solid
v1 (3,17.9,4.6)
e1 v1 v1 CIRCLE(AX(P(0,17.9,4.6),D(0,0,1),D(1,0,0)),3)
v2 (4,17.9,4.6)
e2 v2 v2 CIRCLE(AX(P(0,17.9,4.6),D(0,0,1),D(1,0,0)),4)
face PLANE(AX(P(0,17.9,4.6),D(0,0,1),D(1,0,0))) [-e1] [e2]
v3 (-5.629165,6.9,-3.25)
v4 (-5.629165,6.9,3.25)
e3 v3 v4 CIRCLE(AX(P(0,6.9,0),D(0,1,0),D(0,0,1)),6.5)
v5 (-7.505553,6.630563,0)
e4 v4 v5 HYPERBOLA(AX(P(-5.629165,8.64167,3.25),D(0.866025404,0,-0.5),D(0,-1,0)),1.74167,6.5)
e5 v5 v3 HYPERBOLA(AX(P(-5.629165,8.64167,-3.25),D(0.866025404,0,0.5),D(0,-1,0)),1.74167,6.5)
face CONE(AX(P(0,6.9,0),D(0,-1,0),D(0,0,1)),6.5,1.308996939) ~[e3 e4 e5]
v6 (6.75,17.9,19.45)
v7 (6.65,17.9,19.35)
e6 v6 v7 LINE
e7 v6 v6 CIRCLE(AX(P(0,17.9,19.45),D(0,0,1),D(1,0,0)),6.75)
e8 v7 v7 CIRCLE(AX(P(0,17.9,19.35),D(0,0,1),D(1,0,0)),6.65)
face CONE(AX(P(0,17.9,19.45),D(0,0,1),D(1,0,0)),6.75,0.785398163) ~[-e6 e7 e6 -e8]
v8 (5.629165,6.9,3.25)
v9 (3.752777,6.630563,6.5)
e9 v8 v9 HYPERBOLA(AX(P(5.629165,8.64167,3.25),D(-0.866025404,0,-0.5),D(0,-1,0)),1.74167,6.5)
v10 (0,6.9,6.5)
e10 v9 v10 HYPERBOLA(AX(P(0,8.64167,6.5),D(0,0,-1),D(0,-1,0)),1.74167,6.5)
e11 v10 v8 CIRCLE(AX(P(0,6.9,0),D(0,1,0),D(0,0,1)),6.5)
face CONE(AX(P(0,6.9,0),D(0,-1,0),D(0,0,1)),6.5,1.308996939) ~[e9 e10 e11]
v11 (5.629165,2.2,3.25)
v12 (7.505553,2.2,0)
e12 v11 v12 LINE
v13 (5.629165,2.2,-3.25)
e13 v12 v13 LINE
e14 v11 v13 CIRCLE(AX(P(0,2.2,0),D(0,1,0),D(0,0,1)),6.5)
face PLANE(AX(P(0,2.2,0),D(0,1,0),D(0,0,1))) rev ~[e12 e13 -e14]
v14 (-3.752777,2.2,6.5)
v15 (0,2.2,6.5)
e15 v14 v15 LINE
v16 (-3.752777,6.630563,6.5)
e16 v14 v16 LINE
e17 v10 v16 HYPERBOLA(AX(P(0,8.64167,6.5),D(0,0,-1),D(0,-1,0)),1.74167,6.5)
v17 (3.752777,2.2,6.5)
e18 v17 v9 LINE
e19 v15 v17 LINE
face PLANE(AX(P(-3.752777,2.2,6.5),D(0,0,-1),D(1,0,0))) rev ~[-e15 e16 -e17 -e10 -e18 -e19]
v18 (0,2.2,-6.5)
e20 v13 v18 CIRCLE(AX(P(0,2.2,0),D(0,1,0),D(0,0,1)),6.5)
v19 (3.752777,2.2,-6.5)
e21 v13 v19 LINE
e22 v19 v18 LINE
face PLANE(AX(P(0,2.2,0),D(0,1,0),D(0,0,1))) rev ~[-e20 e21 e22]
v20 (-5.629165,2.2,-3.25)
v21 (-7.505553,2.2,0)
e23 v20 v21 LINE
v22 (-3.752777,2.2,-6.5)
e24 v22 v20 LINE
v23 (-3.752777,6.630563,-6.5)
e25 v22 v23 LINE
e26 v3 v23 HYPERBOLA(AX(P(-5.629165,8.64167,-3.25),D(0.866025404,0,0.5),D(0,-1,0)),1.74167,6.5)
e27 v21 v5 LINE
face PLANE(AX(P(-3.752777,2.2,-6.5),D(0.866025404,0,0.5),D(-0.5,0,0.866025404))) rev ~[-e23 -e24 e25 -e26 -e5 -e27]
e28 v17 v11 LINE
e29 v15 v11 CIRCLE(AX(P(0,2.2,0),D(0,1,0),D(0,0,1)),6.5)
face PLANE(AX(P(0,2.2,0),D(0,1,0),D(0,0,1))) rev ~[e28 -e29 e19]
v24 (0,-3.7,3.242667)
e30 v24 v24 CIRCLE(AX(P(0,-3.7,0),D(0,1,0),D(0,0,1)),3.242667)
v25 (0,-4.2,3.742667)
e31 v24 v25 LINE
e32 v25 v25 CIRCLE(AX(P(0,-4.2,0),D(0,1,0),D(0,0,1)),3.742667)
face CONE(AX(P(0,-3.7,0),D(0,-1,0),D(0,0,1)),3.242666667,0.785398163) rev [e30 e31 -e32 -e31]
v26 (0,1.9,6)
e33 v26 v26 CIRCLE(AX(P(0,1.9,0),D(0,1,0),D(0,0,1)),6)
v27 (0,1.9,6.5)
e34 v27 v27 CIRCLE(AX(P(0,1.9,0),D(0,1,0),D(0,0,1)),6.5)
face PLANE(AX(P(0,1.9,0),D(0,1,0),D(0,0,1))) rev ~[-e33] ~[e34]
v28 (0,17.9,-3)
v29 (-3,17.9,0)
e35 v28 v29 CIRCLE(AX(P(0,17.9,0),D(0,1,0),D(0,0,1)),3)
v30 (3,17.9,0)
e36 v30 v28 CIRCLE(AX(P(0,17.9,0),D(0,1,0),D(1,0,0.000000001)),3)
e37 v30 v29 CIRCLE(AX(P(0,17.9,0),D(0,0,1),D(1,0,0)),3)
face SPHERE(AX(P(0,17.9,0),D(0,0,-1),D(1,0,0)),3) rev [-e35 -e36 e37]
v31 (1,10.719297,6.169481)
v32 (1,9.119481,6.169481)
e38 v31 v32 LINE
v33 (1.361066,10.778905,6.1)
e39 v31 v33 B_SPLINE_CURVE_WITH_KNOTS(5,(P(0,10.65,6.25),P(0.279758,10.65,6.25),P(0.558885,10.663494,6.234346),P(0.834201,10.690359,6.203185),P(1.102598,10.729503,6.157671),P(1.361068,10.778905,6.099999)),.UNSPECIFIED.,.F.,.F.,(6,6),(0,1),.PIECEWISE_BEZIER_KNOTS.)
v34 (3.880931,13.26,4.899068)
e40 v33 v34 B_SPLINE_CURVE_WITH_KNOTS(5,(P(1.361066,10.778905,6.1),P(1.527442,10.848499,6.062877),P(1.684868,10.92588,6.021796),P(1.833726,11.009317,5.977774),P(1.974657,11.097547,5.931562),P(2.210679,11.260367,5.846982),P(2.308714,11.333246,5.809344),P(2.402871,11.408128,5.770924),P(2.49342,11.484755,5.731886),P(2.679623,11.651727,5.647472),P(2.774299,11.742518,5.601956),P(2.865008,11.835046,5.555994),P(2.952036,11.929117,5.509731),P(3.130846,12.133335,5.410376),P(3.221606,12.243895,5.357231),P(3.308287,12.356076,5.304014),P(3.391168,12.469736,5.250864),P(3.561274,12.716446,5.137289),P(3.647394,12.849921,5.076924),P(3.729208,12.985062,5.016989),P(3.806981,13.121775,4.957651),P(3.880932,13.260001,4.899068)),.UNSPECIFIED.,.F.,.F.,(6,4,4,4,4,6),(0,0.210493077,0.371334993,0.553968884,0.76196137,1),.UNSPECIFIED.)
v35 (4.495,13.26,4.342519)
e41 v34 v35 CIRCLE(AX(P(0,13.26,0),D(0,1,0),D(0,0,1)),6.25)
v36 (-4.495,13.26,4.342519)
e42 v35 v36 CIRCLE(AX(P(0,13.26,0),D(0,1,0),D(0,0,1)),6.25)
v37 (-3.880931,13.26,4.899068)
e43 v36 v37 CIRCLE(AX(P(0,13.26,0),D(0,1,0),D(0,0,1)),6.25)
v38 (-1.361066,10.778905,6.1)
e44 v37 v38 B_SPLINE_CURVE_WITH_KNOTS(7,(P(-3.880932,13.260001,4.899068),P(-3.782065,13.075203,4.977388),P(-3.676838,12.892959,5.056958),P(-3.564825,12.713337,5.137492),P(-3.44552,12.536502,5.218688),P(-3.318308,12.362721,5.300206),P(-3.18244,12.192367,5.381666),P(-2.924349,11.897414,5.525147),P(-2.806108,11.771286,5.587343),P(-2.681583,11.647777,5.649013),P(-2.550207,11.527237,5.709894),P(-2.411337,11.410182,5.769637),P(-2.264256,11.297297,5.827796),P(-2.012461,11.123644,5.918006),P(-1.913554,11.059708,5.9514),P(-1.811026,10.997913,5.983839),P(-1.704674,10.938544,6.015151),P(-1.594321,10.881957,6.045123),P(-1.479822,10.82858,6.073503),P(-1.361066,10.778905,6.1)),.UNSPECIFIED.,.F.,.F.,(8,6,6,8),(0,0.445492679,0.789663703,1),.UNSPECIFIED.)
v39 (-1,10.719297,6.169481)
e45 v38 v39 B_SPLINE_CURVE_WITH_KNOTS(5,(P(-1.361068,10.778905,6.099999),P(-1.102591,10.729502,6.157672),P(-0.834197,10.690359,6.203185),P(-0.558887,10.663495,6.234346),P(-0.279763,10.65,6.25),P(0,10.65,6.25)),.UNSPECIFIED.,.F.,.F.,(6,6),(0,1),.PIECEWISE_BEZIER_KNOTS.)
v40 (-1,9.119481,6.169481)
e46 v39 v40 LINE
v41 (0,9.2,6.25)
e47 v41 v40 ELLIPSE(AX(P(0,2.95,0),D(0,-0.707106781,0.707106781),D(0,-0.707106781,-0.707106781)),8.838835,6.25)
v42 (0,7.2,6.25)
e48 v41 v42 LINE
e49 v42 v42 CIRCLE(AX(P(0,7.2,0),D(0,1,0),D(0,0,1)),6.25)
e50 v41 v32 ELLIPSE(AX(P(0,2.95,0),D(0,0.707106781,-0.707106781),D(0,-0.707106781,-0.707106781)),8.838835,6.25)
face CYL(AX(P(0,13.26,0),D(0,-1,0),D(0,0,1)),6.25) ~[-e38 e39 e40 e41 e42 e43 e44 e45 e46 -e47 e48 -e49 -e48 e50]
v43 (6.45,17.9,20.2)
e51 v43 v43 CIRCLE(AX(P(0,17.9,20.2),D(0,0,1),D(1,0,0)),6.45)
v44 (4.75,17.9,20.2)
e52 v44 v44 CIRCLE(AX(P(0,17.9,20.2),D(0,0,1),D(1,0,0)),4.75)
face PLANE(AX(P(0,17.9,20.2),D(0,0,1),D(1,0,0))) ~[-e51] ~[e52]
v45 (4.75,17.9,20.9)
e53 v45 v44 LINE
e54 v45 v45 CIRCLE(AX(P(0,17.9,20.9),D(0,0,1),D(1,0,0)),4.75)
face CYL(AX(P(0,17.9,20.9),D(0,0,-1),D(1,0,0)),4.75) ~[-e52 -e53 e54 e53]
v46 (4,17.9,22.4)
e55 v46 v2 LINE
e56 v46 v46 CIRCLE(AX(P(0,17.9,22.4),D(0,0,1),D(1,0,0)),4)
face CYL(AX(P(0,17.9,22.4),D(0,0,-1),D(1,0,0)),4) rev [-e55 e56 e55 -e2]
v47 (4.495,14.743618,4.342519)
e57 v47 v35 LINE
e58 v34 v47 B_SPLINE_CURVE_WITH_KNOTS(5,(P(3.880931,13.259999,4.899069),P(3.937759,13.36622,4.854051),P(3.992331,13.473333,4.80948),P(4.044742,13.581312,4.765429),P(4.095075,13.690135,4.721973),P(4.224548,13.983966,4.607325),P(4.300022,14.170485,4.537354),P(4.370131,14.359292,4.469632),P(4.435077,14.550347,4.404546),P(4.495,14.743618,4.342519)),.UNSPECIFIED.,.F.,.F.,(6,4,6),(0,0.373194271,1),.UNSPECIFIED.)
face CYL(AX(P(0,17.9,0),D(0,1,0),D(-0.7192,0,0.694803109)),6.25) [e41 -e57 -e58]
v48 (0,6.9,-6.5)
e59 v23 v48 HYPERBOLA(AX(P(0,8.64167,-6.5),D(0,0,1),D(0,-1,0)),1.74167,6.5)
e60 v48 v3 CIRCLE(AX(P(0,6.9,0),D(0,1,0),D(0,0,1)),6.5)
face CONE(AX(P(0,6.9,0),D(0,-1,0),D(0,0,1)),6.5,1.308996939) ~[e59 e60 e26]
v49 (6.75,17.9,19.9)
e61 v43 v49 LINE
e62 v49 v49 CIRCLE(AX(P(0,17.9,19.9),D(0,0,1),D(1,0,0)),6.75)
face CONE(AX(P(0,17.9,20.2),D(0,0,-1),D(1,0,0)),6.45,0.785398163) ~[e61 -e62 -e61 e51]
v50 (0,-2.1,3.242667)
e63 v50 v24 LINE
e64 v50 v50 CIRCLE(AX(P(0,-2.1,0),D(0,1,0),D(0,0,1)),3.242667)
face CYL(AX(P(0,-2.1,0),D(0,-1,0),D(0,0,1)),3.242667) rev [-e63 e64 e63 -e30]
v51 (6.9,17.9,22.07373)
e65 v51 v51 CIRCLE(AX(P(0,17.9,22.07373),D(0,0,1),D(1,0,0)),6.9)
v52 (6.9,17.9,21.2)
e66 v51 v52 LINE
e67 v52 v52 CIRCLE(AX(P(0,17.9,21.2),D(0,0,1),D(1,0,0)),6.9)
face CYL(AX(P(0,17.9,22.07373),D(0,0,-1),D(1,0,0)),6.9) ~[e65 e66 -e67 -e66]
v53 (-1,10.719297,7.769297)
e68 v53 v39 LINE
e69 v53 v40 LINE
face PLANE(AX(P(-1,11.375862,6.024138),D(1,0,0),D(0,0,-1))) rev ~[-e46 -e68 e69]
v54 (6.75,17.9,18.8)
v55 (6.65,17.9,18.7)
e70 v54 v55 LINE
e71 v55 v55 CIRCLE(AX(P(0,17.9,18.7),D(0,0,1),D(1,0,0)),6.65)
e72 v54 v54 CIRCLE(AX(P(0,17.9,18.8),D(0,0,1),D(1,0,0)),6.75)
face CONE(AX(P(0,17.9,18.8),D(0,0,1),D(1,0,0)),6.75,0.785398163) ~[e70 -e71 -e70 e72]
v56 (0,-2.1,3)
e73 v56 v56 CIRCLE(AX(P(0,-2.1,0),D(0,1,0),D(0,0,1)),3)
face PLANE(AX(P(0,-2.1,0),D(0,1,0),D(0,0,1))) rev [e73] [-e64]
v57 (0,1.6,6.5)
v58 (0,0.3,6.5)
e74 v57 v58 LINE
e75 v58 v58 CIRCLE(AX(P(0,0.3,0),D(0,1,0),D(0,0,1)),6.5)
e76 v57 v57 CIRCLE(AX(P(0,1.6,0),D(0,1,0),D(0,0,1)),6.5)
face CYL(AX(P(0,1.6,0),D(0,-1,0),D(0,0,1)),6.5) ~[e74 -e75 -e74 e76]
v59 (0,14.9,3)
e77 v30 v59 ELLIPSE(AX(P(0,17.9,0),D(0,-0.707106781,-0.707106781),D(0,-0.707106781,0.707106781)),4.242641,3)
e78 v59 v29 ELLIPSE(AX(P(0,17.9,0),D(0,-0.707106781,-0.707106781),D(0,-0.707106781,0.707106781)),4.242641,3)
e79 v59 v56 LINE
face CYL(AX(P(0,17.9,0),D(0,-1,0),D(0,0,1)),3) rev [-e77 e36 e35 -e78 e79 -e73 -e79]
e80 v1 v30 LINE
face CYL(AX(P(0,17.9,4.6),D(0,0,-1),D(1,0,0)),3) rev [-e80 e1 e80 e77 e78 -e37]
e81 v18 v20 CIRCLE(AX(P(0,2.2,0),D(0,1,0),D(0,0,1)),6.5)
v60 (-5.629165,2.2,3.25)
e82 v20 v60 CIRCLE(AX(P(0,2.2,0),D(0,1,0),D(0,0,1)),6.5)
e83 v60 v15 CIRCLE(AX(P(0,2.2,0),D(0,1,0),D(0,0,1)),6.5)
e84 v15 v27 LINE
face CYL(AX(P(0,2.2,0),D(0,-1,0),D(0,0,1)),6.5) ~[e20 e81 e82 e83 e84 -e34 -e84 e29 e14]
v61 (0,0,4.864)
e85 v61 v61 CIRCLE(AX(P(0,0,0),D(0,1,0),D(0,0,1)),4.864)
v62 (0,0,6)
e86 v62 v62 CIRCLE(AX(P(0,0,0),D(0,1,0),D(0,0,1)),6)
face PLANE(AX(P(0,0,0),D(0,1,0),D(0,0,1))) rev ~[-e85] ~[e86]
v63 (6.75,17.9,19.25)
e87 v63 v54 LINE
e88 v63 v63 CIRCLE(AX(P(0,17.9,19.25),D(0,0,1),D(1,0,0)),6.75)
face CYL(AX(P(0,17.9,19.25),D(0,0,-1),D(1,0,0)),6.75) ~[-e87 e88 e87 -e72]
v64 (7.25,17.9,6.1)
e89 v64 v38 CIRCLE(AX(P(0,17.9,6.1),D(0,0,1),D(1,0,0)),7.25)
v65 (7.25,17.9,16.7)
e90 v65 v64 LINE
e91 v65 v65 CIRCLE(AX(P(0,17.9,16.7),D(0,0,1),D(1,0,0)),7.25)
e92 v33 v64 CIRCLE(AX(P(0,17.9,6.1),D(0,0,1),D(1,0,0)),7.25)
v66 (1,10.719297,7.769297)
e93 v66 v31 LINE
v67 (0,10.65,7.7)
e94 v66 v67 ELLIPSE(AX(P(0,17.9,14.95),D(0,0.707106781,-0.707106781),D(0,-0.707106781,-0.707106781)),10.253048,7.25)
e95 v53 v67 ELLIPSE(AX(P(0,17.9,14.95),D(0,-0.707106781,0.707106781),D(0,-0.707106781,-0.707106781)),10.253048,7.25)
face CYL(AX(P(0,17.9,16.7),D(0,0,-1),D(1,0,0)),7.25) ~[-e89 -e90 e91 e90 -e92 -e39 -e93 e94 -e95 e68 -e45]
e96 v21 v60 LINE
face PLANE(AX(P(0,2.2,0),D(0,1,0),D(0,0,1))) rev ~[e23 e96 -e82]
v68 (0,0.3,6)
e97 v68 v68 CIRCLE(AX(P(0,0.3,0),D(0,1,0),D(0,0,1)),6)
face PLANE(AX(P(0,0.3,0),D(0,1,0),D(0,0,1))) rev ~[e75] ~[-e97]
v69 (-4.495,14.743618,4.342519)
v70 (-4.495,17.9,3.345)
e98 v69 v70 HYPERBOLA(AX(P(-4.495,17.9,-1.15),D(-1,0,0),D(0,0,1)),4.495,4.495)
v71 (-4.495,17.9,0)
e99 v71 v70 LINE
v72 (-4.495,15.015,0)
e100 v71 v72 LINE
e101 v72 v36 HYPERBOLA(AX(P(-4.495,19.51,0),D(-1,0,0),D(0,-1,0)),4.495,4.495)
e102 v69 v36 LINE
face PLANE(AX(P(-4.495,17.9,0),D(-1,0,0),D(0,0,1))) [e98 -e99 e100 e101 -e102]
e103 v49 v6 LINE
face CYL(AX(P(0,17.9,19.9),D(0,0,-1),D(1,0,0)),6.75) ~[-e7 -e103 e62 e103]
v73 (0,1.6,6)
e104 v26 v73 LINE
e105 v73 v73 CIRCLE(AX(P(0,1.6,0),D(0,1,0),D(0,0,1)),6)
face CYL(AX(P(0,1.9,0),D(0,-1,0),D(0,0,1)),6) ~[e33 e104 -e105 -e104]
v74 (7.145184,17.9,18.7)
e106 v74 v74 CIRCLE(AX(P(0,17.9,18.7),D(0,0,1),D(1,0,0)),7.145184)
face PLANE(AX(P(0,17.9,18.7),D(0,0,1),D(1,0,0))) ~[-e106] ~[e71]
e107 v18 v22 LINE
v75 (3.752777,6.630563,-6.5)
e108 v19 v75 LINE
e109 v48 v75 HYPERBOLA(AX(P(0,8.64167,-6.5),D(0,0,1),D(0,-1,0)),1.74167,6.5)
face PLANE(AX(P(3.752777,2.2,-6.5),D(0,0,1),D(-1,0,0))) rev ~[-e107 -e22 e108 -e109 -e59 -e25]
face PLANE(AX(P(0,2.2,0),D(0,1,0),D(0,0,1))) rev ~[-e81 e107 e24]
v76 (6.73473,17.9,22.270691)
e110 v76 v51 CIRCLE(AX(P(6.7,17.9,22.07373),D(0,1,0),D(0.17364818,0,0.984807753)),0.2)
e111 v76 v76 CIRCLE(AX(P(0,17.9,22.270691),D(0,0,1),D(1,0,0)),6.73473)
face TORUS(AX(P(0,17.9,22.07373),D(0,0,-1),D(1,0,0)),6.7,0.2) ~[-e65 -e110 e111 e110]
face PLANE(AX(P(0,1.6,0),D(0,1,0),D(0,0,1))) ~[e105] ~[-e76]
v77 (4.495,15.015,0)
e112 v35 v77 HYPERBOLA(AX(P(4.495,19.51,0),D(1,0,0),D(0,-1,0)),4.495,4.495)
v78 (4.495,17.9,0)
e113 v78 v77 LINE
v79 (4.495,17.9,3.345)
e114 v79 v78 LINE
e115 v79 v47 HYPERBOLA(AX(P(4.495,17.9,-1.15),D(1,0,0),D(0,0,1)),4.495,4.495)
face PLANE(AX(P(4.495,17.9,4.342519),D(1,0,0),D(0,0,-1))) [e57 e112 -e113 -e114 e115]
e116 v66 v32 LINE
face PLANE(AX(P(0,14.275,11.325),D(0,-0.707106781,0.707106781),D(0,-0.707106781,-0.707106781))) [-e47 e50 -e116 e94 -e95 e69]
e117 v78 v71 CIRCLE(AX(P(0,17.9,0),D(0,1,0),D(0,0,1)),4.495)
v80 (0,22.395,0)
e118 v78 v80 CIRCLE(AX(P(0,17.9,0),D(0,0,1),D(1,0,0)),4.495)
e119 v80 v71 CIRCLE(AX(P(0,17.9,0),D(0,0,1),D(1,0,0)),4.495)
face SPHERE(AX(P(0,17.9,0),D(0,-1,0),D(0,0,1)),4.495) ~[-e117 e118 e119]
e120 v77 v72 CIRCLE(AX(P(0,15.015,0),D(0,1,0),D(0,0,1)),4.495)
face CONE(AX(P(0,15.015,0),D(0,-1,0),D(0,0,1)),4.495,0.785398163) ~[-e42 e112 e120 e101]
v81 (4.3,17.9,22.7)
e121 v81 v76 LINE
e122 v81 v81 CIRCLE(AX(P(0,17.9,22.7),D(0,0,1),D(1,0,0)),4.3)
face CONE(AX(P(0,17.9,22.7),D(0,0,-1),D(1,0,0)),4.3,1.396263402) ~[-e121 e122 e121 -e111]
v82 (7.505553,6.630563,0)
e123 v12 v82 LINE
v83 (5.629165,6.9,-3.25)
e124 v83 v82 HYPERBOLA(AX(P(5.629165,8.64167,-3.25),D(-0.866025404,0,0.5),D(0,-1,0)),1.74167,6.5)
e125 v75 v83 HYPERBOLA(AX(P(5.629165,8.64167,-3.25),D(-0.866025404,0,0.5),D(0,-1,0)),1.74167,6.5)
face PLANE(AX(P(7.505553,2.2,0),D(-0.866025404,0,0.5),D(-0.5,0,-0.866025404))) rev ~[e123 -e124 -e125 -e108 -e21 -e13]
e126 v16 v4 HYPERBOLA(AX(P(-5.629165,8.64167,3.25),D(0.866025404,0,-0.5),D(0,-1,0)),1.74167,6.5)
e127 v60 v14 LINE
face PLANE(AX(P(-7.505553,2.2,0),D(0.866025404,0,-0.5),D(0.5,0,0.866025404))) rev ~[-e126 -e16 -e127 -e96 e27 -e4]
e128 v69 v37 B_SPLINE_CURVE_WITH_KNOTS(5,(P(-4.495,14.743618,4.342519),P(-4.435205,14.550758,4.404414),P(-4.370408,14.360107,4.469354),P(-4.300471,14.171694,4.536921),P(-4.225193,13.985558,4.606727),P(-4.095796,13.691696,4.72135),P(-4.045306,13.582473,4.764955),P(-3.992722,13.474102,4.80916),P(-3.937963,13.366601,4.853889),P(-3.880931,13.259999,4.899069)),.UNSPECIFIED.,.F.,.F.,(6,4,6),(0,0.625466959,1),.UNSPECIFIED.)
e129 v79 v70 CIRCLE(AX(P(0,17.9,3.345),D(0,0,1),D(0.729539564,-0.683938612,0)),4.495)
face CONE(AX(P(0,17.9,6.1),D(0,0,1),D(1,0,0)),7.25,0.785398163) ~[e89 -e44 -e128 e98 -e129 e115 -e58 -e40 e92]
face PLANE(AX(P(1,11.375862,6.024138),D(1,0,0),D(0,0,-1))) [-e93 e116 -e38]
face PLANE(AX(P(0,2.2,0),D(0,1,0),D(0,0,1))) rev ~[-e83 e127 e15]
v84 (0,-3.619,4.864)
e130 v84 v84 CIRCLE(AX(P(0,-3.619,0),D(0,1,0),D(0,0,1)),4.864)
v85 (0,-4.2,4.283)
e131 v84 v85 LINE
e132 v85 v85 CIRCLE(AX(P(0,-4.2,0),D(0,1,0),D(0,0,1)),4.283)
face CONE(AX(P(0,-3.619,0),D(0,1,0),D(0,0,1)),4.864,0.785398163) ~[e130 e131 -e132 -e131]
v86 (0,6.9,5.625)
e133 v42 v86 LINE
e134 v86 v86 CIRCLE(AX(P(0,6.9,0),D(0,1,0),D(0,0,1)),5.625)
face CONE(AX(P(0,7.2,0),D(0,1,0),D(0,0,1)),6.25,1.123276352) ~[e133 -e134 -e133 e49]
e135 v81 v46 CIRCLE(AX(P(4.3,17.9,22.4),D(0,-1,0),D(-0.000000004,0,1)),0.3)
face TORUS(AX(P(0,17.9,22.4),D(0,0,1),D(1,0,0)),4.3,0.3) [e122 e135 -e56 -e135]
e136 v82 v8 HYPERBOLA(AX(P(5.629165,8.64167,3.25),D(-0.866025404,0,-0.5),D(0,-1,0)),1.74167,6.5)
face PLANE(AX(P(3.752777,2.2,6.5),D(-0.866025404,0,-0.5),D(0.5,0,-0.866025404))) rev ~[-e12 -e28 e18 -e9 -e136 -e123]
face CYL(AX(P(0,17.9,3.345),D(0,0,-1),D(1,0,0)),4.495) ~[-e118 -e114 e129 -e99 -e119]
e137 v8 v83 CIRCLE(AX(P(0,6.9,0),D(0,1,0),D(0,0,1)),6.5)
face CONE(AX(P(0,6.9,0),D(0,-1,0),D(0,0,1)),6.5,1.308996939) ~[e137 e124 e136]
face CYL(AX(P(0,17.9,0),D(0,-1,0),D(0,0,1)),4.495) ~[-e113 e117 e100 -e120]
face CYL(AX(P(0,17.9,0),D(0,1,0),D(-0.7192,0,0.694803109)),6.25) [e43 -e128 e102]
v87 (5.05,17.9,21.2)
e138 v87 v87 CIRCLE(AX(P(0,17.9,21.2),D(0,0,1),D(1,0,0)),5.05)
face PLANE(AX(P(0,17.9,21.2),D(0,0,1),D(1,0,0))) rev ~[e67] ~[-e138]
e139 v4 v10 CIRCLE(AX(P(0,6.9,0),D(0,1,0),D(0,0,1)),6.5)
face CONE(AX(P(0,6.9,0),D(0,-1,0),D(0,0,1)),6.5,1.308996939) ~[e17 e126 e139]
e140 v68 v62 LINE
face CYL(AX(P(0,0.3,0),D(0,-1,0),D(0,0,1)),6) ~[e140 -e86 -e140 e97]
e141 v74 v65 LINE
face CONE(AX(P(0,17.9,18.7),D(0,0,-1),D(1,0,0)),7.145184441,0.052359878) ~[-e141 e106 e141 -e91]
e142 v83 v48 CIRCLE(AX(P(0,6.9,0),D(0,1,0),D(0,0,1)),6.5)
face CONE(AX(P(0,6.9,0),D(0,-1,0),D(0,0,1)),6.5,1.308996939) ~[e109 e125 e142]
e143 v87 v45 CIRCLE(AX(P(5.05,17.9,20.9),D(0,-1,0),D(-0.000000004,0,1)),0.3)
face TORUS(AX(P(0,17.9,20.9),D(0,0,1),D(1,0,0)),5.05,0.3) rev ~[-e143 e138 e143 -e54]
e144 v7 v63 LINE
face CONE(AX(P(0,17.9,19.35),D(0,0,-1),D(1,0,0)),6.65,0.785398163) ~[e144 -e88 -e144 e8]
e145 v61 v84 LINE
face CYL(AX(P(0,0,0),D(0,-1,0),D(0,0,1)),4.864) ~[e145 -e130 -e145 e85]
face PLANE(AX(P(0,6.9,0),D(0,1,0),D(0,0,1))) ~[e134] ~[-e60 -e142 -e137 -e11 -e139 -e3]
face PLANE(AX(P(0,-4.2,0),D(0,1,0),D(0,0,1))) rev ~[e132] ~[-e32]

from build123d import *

# Parameters (mm, degrees)
SKIZZE2_W                            = 26
SKIZZE2_H                            = 26
SCHNITT_LINEAR_AUSTRAGEN1_DEPTH      = 4.7
AUFSATZ_LINEAR_AUSTRAGEN1_DEPTH      = 4.64
AUFSATZ_LINEAR_AUSTRAGEN2_DEPTH      = 1
AUFSATZ_LINEAR_AUSTRAGEN2_DEPTH_BACK = 1


with BuildPart() as part:
    # Skizze1 → Rotation1 (revolve)
    with BuildSketch(Plane.XY, mode=Mode.PRIVATE) as rotation1_sk:
        with BuildLine():
            Line((4.495, 17.9), (4.495, 15.015))
            Line((4.495, 15.015), (6.25, 13.26))
            Line((6.25, 13.26), (6.25, 7.2))
            Line((6.25, 7.2), (5.625, 6.9))
            Line((5.625, 6.9), (6.5, 6.9))
            Line((6.5, 6.9), (7.8, 6.55166605))
            Line((7.8, 6.55166605), (7.8, 2.2))
            Line((7.8, 2.2), (6.5, 2.2))
            Line((6.5, 2.2), (6.5, 1.9))
            Line((6.5, 1.9), (6, 1.9))
            Line((6, 1.9), (6, 1.6))
            Line((6, 1.6), (6.5, 1.6))
            Line((6.5, 1.6), (6.5, 0.3))
            Line((6.5, 0.3), (6, 0.3))
            Line((6, 0.3), (6, 0))
            Line((6, 0), (0, 0))
            Line((0, 0), (0, 22.395))
            ThreePointArc((0, 22.395), (3.178444981, 21.078444981), (4.495, 17.9))
        make_face()
    revolve(rotation1_sk.sketch.rotate(Axis((0, 0, 0), (0, 1, 0)), 270), axis=Axis((0, 0, 0), (0, 1, 0)))

    # Skizze2 → Schnitt-Linear austragen1 (cut)
    with BuildSketch(Plane(origin=(0, 2.2, 0), x_dir=(1, 0, 0), z_dir=(0, 1, 0))):
        Rectangle(SKIZZE2_W, SKIZZE2_H)
        Polygon((-7.505553499, 0), (-3.75277675, -6.5), (3.75277675, -6.5), (7.505553499, 0), (3.75277675, 6.5), (-3.75277675, 6.5), align=None, mode=Mode.SUBTRACT)
    extrude(amount=SCHNITT_LINEAR_AUSTRAGEN1_DEPTH, mode=Mode.SUBTRACT)

    # Skizze3 → Rotation2 (revolve)
    with BuildSketch(Plane.XY, mode=Mode.PRIVATE) as rotation2_sk:
        Polygon((0, 0), (4.864, 0), (4.864, -3.619), (4.283, -4.2), (0, -4.2), align=None)
    revolve(rotation2_sk.sketch.rotate(Axis((0, -4.2, 0), (0, 1, 0)), 270), axis=Axis((0, -4.2, 0), (0, 1, 0)))

    # Skizze4 → Rotation3 (revolve)
    with BuildSketch(Plane(origin=(0, 0, 0), x_dir=(0, 0, -1), z_dir=(1, 0, 0)), mode=Mode.PRIVATE) as rotation3_sk:
        with BuildLine():
            Line((-22.7, 17.9), (-22.7, 22.2))
            Line((-22.7, 22.2), (-22.270691475, 24.634729636))
            ThreePointArc((-22.270691475, 24.634729636), (-22.202287446, 24.753208889), (-22.073729924, 24.8))
            Line((-22.073729924, 24.8), (-21.2, 24.8))
            Line((-21.2, 24.8), (-21.2, 22.95))
            ThreePointArc((-21.2, 22.95), (-21.112132034, 22.737867966), (-20.9, 22.65))
            Line((-20.9, 22.65), (-20.2, 22.65))
            Line((-20.2, 22.65), (-20.2, 24.35))
            Line((-20.2, 24.35), (-19.9, 24.65))
            Line((-19.9, 24.65), (-19.45, 24.65))
            Line((-19.45, 24.65), (-19.35, 24.55))
            Line((-19.35, 24.55), (-19.25, 24.65))
            Line((-19.25, 24.65), (-18.8, 24.65))
            Line((-18.8, 24.65), (-18.7, 24.55))
            Line((-18.7, 24.55), (-18.7, 25.045184441))
            Line((-18.7, 25.045184441), (-16.7, 25.15))
            Line((-16.7, 25.15), (-6.1, 25.15))
            Line((-6.1, 25.15), (-3.345, 22.395))
            Line((-3.345, 22.395), (0, 22.395))
            Line((0, 22.395), (0, 17.9))
            Line((0, 17.9), (-22.7, 17.9))
        make_face()
    revolve(rotation3_sk.sketch.rotate(Axis((0, 17.9, 0), (0, 0, 1)), 270), axis=Axis((0, 17.9, 0), (0, 0, 1)))

    # Skizze5 → Aufsatz-Linear austragen1 (add)
    with BuildSketch(Plane(origin=(0, 17.9, 0), x_dir=(1, 0, 0), z_dir=(0, 1, 0))):
        with BuildLine():
            Line((4.495, -4.34251943), (4.495, 0))
            Line((4.495, 0), (-4.495, 0))
            Line((-4.495, 0), (-4.495, -4.34251943))
            ThreePointArc((-4.495, -4.34251943), (0, -6.25), (4.495, -4.34251943))
        make_face()
    extrude(amount=-AUFSATZ_LINEAR_AUSTRAGEN1_DEPTH)

    # Skizze6 → Aufsatz-Linear austragen2 (add, two sides)
    with BuildSketch(Plane(origin=(0, 0, 0), x_dir=(0, 0, -1), z_dir=(1, 0, 0))) as aufsatz_linear_austragen2_sk:
        Polygon((-11.325, 14.275), (-3.125, 6.075), (-3.125, 14.275), align=None)
    extrude(amount=AUFSATZ_LINEAR_AUSTRAGEN2_DEPTH)
    extrude(aufsatz_linear_austragen2_sk.sketch, amount=-AUFSATZ_LINEAR_AUSTRAGEN2_DEPTH_BACK)

    # Skizze7 → Schnitt-Rotation1 (revolve, cut)
    with BuildSketch(Plane.XY, mode=Mode.PRIVATE) as schnitt_rotation1_sk:
        Polygon((0, 17.9), (3, 17.9), (3, -2.1), (3.242666667, -2.1), (3.242666667, -3.7), (3.742666667, -4.2), (0, -4.2), align=None)
    revolve(schnitt_rotation1_sk.sketch.rotate(Axis((0, -4.2, 0), (0, 1, 0)), 270), axis=Axis((0, -4.2, 0), (0, 1, 0)), mode=Mode.SUBTRACT)

    # Skizze8 → Schnitt-Rotation2 (revolve, cut)
    with BuildSketch(Plane(origin=(0, 0, 0), x_dir=(0, 0, -1), z_dir=(1, 0, 0)), mode=Mode.PRIVATE) as schnitt_rotation2_sk:
        with BuildLine():
            Line((-22.7, 17.9), (-22.7, 22.2))
            ThreePointArc((-22.7, 22.2), (-22.612132034, 21.987867966), (-22.4, 21.9))
            Line((-22.4, 21.9), (-4.6, 21.9))
            Line((-4.6, 21.9), (-4.6, 20.9))
            Line((-4.6, 20.9), (0, 20.9))
            ThreePointArc((0, 20.9), (2.121320344, 20.021320344), (3, 17.9))
            Line((3, 17.9), (-22.7, 17.9))
        make_face()
    revolve(schnitt_rotation2_sk.sketch.rotate(Axis((0, 17.9, 0), (0, 0, 1)), 270), axis=Axis((0, 17.9, 0), (0, 0, 1)), mode=Mode.SUBTRACT)


solid = part.part
